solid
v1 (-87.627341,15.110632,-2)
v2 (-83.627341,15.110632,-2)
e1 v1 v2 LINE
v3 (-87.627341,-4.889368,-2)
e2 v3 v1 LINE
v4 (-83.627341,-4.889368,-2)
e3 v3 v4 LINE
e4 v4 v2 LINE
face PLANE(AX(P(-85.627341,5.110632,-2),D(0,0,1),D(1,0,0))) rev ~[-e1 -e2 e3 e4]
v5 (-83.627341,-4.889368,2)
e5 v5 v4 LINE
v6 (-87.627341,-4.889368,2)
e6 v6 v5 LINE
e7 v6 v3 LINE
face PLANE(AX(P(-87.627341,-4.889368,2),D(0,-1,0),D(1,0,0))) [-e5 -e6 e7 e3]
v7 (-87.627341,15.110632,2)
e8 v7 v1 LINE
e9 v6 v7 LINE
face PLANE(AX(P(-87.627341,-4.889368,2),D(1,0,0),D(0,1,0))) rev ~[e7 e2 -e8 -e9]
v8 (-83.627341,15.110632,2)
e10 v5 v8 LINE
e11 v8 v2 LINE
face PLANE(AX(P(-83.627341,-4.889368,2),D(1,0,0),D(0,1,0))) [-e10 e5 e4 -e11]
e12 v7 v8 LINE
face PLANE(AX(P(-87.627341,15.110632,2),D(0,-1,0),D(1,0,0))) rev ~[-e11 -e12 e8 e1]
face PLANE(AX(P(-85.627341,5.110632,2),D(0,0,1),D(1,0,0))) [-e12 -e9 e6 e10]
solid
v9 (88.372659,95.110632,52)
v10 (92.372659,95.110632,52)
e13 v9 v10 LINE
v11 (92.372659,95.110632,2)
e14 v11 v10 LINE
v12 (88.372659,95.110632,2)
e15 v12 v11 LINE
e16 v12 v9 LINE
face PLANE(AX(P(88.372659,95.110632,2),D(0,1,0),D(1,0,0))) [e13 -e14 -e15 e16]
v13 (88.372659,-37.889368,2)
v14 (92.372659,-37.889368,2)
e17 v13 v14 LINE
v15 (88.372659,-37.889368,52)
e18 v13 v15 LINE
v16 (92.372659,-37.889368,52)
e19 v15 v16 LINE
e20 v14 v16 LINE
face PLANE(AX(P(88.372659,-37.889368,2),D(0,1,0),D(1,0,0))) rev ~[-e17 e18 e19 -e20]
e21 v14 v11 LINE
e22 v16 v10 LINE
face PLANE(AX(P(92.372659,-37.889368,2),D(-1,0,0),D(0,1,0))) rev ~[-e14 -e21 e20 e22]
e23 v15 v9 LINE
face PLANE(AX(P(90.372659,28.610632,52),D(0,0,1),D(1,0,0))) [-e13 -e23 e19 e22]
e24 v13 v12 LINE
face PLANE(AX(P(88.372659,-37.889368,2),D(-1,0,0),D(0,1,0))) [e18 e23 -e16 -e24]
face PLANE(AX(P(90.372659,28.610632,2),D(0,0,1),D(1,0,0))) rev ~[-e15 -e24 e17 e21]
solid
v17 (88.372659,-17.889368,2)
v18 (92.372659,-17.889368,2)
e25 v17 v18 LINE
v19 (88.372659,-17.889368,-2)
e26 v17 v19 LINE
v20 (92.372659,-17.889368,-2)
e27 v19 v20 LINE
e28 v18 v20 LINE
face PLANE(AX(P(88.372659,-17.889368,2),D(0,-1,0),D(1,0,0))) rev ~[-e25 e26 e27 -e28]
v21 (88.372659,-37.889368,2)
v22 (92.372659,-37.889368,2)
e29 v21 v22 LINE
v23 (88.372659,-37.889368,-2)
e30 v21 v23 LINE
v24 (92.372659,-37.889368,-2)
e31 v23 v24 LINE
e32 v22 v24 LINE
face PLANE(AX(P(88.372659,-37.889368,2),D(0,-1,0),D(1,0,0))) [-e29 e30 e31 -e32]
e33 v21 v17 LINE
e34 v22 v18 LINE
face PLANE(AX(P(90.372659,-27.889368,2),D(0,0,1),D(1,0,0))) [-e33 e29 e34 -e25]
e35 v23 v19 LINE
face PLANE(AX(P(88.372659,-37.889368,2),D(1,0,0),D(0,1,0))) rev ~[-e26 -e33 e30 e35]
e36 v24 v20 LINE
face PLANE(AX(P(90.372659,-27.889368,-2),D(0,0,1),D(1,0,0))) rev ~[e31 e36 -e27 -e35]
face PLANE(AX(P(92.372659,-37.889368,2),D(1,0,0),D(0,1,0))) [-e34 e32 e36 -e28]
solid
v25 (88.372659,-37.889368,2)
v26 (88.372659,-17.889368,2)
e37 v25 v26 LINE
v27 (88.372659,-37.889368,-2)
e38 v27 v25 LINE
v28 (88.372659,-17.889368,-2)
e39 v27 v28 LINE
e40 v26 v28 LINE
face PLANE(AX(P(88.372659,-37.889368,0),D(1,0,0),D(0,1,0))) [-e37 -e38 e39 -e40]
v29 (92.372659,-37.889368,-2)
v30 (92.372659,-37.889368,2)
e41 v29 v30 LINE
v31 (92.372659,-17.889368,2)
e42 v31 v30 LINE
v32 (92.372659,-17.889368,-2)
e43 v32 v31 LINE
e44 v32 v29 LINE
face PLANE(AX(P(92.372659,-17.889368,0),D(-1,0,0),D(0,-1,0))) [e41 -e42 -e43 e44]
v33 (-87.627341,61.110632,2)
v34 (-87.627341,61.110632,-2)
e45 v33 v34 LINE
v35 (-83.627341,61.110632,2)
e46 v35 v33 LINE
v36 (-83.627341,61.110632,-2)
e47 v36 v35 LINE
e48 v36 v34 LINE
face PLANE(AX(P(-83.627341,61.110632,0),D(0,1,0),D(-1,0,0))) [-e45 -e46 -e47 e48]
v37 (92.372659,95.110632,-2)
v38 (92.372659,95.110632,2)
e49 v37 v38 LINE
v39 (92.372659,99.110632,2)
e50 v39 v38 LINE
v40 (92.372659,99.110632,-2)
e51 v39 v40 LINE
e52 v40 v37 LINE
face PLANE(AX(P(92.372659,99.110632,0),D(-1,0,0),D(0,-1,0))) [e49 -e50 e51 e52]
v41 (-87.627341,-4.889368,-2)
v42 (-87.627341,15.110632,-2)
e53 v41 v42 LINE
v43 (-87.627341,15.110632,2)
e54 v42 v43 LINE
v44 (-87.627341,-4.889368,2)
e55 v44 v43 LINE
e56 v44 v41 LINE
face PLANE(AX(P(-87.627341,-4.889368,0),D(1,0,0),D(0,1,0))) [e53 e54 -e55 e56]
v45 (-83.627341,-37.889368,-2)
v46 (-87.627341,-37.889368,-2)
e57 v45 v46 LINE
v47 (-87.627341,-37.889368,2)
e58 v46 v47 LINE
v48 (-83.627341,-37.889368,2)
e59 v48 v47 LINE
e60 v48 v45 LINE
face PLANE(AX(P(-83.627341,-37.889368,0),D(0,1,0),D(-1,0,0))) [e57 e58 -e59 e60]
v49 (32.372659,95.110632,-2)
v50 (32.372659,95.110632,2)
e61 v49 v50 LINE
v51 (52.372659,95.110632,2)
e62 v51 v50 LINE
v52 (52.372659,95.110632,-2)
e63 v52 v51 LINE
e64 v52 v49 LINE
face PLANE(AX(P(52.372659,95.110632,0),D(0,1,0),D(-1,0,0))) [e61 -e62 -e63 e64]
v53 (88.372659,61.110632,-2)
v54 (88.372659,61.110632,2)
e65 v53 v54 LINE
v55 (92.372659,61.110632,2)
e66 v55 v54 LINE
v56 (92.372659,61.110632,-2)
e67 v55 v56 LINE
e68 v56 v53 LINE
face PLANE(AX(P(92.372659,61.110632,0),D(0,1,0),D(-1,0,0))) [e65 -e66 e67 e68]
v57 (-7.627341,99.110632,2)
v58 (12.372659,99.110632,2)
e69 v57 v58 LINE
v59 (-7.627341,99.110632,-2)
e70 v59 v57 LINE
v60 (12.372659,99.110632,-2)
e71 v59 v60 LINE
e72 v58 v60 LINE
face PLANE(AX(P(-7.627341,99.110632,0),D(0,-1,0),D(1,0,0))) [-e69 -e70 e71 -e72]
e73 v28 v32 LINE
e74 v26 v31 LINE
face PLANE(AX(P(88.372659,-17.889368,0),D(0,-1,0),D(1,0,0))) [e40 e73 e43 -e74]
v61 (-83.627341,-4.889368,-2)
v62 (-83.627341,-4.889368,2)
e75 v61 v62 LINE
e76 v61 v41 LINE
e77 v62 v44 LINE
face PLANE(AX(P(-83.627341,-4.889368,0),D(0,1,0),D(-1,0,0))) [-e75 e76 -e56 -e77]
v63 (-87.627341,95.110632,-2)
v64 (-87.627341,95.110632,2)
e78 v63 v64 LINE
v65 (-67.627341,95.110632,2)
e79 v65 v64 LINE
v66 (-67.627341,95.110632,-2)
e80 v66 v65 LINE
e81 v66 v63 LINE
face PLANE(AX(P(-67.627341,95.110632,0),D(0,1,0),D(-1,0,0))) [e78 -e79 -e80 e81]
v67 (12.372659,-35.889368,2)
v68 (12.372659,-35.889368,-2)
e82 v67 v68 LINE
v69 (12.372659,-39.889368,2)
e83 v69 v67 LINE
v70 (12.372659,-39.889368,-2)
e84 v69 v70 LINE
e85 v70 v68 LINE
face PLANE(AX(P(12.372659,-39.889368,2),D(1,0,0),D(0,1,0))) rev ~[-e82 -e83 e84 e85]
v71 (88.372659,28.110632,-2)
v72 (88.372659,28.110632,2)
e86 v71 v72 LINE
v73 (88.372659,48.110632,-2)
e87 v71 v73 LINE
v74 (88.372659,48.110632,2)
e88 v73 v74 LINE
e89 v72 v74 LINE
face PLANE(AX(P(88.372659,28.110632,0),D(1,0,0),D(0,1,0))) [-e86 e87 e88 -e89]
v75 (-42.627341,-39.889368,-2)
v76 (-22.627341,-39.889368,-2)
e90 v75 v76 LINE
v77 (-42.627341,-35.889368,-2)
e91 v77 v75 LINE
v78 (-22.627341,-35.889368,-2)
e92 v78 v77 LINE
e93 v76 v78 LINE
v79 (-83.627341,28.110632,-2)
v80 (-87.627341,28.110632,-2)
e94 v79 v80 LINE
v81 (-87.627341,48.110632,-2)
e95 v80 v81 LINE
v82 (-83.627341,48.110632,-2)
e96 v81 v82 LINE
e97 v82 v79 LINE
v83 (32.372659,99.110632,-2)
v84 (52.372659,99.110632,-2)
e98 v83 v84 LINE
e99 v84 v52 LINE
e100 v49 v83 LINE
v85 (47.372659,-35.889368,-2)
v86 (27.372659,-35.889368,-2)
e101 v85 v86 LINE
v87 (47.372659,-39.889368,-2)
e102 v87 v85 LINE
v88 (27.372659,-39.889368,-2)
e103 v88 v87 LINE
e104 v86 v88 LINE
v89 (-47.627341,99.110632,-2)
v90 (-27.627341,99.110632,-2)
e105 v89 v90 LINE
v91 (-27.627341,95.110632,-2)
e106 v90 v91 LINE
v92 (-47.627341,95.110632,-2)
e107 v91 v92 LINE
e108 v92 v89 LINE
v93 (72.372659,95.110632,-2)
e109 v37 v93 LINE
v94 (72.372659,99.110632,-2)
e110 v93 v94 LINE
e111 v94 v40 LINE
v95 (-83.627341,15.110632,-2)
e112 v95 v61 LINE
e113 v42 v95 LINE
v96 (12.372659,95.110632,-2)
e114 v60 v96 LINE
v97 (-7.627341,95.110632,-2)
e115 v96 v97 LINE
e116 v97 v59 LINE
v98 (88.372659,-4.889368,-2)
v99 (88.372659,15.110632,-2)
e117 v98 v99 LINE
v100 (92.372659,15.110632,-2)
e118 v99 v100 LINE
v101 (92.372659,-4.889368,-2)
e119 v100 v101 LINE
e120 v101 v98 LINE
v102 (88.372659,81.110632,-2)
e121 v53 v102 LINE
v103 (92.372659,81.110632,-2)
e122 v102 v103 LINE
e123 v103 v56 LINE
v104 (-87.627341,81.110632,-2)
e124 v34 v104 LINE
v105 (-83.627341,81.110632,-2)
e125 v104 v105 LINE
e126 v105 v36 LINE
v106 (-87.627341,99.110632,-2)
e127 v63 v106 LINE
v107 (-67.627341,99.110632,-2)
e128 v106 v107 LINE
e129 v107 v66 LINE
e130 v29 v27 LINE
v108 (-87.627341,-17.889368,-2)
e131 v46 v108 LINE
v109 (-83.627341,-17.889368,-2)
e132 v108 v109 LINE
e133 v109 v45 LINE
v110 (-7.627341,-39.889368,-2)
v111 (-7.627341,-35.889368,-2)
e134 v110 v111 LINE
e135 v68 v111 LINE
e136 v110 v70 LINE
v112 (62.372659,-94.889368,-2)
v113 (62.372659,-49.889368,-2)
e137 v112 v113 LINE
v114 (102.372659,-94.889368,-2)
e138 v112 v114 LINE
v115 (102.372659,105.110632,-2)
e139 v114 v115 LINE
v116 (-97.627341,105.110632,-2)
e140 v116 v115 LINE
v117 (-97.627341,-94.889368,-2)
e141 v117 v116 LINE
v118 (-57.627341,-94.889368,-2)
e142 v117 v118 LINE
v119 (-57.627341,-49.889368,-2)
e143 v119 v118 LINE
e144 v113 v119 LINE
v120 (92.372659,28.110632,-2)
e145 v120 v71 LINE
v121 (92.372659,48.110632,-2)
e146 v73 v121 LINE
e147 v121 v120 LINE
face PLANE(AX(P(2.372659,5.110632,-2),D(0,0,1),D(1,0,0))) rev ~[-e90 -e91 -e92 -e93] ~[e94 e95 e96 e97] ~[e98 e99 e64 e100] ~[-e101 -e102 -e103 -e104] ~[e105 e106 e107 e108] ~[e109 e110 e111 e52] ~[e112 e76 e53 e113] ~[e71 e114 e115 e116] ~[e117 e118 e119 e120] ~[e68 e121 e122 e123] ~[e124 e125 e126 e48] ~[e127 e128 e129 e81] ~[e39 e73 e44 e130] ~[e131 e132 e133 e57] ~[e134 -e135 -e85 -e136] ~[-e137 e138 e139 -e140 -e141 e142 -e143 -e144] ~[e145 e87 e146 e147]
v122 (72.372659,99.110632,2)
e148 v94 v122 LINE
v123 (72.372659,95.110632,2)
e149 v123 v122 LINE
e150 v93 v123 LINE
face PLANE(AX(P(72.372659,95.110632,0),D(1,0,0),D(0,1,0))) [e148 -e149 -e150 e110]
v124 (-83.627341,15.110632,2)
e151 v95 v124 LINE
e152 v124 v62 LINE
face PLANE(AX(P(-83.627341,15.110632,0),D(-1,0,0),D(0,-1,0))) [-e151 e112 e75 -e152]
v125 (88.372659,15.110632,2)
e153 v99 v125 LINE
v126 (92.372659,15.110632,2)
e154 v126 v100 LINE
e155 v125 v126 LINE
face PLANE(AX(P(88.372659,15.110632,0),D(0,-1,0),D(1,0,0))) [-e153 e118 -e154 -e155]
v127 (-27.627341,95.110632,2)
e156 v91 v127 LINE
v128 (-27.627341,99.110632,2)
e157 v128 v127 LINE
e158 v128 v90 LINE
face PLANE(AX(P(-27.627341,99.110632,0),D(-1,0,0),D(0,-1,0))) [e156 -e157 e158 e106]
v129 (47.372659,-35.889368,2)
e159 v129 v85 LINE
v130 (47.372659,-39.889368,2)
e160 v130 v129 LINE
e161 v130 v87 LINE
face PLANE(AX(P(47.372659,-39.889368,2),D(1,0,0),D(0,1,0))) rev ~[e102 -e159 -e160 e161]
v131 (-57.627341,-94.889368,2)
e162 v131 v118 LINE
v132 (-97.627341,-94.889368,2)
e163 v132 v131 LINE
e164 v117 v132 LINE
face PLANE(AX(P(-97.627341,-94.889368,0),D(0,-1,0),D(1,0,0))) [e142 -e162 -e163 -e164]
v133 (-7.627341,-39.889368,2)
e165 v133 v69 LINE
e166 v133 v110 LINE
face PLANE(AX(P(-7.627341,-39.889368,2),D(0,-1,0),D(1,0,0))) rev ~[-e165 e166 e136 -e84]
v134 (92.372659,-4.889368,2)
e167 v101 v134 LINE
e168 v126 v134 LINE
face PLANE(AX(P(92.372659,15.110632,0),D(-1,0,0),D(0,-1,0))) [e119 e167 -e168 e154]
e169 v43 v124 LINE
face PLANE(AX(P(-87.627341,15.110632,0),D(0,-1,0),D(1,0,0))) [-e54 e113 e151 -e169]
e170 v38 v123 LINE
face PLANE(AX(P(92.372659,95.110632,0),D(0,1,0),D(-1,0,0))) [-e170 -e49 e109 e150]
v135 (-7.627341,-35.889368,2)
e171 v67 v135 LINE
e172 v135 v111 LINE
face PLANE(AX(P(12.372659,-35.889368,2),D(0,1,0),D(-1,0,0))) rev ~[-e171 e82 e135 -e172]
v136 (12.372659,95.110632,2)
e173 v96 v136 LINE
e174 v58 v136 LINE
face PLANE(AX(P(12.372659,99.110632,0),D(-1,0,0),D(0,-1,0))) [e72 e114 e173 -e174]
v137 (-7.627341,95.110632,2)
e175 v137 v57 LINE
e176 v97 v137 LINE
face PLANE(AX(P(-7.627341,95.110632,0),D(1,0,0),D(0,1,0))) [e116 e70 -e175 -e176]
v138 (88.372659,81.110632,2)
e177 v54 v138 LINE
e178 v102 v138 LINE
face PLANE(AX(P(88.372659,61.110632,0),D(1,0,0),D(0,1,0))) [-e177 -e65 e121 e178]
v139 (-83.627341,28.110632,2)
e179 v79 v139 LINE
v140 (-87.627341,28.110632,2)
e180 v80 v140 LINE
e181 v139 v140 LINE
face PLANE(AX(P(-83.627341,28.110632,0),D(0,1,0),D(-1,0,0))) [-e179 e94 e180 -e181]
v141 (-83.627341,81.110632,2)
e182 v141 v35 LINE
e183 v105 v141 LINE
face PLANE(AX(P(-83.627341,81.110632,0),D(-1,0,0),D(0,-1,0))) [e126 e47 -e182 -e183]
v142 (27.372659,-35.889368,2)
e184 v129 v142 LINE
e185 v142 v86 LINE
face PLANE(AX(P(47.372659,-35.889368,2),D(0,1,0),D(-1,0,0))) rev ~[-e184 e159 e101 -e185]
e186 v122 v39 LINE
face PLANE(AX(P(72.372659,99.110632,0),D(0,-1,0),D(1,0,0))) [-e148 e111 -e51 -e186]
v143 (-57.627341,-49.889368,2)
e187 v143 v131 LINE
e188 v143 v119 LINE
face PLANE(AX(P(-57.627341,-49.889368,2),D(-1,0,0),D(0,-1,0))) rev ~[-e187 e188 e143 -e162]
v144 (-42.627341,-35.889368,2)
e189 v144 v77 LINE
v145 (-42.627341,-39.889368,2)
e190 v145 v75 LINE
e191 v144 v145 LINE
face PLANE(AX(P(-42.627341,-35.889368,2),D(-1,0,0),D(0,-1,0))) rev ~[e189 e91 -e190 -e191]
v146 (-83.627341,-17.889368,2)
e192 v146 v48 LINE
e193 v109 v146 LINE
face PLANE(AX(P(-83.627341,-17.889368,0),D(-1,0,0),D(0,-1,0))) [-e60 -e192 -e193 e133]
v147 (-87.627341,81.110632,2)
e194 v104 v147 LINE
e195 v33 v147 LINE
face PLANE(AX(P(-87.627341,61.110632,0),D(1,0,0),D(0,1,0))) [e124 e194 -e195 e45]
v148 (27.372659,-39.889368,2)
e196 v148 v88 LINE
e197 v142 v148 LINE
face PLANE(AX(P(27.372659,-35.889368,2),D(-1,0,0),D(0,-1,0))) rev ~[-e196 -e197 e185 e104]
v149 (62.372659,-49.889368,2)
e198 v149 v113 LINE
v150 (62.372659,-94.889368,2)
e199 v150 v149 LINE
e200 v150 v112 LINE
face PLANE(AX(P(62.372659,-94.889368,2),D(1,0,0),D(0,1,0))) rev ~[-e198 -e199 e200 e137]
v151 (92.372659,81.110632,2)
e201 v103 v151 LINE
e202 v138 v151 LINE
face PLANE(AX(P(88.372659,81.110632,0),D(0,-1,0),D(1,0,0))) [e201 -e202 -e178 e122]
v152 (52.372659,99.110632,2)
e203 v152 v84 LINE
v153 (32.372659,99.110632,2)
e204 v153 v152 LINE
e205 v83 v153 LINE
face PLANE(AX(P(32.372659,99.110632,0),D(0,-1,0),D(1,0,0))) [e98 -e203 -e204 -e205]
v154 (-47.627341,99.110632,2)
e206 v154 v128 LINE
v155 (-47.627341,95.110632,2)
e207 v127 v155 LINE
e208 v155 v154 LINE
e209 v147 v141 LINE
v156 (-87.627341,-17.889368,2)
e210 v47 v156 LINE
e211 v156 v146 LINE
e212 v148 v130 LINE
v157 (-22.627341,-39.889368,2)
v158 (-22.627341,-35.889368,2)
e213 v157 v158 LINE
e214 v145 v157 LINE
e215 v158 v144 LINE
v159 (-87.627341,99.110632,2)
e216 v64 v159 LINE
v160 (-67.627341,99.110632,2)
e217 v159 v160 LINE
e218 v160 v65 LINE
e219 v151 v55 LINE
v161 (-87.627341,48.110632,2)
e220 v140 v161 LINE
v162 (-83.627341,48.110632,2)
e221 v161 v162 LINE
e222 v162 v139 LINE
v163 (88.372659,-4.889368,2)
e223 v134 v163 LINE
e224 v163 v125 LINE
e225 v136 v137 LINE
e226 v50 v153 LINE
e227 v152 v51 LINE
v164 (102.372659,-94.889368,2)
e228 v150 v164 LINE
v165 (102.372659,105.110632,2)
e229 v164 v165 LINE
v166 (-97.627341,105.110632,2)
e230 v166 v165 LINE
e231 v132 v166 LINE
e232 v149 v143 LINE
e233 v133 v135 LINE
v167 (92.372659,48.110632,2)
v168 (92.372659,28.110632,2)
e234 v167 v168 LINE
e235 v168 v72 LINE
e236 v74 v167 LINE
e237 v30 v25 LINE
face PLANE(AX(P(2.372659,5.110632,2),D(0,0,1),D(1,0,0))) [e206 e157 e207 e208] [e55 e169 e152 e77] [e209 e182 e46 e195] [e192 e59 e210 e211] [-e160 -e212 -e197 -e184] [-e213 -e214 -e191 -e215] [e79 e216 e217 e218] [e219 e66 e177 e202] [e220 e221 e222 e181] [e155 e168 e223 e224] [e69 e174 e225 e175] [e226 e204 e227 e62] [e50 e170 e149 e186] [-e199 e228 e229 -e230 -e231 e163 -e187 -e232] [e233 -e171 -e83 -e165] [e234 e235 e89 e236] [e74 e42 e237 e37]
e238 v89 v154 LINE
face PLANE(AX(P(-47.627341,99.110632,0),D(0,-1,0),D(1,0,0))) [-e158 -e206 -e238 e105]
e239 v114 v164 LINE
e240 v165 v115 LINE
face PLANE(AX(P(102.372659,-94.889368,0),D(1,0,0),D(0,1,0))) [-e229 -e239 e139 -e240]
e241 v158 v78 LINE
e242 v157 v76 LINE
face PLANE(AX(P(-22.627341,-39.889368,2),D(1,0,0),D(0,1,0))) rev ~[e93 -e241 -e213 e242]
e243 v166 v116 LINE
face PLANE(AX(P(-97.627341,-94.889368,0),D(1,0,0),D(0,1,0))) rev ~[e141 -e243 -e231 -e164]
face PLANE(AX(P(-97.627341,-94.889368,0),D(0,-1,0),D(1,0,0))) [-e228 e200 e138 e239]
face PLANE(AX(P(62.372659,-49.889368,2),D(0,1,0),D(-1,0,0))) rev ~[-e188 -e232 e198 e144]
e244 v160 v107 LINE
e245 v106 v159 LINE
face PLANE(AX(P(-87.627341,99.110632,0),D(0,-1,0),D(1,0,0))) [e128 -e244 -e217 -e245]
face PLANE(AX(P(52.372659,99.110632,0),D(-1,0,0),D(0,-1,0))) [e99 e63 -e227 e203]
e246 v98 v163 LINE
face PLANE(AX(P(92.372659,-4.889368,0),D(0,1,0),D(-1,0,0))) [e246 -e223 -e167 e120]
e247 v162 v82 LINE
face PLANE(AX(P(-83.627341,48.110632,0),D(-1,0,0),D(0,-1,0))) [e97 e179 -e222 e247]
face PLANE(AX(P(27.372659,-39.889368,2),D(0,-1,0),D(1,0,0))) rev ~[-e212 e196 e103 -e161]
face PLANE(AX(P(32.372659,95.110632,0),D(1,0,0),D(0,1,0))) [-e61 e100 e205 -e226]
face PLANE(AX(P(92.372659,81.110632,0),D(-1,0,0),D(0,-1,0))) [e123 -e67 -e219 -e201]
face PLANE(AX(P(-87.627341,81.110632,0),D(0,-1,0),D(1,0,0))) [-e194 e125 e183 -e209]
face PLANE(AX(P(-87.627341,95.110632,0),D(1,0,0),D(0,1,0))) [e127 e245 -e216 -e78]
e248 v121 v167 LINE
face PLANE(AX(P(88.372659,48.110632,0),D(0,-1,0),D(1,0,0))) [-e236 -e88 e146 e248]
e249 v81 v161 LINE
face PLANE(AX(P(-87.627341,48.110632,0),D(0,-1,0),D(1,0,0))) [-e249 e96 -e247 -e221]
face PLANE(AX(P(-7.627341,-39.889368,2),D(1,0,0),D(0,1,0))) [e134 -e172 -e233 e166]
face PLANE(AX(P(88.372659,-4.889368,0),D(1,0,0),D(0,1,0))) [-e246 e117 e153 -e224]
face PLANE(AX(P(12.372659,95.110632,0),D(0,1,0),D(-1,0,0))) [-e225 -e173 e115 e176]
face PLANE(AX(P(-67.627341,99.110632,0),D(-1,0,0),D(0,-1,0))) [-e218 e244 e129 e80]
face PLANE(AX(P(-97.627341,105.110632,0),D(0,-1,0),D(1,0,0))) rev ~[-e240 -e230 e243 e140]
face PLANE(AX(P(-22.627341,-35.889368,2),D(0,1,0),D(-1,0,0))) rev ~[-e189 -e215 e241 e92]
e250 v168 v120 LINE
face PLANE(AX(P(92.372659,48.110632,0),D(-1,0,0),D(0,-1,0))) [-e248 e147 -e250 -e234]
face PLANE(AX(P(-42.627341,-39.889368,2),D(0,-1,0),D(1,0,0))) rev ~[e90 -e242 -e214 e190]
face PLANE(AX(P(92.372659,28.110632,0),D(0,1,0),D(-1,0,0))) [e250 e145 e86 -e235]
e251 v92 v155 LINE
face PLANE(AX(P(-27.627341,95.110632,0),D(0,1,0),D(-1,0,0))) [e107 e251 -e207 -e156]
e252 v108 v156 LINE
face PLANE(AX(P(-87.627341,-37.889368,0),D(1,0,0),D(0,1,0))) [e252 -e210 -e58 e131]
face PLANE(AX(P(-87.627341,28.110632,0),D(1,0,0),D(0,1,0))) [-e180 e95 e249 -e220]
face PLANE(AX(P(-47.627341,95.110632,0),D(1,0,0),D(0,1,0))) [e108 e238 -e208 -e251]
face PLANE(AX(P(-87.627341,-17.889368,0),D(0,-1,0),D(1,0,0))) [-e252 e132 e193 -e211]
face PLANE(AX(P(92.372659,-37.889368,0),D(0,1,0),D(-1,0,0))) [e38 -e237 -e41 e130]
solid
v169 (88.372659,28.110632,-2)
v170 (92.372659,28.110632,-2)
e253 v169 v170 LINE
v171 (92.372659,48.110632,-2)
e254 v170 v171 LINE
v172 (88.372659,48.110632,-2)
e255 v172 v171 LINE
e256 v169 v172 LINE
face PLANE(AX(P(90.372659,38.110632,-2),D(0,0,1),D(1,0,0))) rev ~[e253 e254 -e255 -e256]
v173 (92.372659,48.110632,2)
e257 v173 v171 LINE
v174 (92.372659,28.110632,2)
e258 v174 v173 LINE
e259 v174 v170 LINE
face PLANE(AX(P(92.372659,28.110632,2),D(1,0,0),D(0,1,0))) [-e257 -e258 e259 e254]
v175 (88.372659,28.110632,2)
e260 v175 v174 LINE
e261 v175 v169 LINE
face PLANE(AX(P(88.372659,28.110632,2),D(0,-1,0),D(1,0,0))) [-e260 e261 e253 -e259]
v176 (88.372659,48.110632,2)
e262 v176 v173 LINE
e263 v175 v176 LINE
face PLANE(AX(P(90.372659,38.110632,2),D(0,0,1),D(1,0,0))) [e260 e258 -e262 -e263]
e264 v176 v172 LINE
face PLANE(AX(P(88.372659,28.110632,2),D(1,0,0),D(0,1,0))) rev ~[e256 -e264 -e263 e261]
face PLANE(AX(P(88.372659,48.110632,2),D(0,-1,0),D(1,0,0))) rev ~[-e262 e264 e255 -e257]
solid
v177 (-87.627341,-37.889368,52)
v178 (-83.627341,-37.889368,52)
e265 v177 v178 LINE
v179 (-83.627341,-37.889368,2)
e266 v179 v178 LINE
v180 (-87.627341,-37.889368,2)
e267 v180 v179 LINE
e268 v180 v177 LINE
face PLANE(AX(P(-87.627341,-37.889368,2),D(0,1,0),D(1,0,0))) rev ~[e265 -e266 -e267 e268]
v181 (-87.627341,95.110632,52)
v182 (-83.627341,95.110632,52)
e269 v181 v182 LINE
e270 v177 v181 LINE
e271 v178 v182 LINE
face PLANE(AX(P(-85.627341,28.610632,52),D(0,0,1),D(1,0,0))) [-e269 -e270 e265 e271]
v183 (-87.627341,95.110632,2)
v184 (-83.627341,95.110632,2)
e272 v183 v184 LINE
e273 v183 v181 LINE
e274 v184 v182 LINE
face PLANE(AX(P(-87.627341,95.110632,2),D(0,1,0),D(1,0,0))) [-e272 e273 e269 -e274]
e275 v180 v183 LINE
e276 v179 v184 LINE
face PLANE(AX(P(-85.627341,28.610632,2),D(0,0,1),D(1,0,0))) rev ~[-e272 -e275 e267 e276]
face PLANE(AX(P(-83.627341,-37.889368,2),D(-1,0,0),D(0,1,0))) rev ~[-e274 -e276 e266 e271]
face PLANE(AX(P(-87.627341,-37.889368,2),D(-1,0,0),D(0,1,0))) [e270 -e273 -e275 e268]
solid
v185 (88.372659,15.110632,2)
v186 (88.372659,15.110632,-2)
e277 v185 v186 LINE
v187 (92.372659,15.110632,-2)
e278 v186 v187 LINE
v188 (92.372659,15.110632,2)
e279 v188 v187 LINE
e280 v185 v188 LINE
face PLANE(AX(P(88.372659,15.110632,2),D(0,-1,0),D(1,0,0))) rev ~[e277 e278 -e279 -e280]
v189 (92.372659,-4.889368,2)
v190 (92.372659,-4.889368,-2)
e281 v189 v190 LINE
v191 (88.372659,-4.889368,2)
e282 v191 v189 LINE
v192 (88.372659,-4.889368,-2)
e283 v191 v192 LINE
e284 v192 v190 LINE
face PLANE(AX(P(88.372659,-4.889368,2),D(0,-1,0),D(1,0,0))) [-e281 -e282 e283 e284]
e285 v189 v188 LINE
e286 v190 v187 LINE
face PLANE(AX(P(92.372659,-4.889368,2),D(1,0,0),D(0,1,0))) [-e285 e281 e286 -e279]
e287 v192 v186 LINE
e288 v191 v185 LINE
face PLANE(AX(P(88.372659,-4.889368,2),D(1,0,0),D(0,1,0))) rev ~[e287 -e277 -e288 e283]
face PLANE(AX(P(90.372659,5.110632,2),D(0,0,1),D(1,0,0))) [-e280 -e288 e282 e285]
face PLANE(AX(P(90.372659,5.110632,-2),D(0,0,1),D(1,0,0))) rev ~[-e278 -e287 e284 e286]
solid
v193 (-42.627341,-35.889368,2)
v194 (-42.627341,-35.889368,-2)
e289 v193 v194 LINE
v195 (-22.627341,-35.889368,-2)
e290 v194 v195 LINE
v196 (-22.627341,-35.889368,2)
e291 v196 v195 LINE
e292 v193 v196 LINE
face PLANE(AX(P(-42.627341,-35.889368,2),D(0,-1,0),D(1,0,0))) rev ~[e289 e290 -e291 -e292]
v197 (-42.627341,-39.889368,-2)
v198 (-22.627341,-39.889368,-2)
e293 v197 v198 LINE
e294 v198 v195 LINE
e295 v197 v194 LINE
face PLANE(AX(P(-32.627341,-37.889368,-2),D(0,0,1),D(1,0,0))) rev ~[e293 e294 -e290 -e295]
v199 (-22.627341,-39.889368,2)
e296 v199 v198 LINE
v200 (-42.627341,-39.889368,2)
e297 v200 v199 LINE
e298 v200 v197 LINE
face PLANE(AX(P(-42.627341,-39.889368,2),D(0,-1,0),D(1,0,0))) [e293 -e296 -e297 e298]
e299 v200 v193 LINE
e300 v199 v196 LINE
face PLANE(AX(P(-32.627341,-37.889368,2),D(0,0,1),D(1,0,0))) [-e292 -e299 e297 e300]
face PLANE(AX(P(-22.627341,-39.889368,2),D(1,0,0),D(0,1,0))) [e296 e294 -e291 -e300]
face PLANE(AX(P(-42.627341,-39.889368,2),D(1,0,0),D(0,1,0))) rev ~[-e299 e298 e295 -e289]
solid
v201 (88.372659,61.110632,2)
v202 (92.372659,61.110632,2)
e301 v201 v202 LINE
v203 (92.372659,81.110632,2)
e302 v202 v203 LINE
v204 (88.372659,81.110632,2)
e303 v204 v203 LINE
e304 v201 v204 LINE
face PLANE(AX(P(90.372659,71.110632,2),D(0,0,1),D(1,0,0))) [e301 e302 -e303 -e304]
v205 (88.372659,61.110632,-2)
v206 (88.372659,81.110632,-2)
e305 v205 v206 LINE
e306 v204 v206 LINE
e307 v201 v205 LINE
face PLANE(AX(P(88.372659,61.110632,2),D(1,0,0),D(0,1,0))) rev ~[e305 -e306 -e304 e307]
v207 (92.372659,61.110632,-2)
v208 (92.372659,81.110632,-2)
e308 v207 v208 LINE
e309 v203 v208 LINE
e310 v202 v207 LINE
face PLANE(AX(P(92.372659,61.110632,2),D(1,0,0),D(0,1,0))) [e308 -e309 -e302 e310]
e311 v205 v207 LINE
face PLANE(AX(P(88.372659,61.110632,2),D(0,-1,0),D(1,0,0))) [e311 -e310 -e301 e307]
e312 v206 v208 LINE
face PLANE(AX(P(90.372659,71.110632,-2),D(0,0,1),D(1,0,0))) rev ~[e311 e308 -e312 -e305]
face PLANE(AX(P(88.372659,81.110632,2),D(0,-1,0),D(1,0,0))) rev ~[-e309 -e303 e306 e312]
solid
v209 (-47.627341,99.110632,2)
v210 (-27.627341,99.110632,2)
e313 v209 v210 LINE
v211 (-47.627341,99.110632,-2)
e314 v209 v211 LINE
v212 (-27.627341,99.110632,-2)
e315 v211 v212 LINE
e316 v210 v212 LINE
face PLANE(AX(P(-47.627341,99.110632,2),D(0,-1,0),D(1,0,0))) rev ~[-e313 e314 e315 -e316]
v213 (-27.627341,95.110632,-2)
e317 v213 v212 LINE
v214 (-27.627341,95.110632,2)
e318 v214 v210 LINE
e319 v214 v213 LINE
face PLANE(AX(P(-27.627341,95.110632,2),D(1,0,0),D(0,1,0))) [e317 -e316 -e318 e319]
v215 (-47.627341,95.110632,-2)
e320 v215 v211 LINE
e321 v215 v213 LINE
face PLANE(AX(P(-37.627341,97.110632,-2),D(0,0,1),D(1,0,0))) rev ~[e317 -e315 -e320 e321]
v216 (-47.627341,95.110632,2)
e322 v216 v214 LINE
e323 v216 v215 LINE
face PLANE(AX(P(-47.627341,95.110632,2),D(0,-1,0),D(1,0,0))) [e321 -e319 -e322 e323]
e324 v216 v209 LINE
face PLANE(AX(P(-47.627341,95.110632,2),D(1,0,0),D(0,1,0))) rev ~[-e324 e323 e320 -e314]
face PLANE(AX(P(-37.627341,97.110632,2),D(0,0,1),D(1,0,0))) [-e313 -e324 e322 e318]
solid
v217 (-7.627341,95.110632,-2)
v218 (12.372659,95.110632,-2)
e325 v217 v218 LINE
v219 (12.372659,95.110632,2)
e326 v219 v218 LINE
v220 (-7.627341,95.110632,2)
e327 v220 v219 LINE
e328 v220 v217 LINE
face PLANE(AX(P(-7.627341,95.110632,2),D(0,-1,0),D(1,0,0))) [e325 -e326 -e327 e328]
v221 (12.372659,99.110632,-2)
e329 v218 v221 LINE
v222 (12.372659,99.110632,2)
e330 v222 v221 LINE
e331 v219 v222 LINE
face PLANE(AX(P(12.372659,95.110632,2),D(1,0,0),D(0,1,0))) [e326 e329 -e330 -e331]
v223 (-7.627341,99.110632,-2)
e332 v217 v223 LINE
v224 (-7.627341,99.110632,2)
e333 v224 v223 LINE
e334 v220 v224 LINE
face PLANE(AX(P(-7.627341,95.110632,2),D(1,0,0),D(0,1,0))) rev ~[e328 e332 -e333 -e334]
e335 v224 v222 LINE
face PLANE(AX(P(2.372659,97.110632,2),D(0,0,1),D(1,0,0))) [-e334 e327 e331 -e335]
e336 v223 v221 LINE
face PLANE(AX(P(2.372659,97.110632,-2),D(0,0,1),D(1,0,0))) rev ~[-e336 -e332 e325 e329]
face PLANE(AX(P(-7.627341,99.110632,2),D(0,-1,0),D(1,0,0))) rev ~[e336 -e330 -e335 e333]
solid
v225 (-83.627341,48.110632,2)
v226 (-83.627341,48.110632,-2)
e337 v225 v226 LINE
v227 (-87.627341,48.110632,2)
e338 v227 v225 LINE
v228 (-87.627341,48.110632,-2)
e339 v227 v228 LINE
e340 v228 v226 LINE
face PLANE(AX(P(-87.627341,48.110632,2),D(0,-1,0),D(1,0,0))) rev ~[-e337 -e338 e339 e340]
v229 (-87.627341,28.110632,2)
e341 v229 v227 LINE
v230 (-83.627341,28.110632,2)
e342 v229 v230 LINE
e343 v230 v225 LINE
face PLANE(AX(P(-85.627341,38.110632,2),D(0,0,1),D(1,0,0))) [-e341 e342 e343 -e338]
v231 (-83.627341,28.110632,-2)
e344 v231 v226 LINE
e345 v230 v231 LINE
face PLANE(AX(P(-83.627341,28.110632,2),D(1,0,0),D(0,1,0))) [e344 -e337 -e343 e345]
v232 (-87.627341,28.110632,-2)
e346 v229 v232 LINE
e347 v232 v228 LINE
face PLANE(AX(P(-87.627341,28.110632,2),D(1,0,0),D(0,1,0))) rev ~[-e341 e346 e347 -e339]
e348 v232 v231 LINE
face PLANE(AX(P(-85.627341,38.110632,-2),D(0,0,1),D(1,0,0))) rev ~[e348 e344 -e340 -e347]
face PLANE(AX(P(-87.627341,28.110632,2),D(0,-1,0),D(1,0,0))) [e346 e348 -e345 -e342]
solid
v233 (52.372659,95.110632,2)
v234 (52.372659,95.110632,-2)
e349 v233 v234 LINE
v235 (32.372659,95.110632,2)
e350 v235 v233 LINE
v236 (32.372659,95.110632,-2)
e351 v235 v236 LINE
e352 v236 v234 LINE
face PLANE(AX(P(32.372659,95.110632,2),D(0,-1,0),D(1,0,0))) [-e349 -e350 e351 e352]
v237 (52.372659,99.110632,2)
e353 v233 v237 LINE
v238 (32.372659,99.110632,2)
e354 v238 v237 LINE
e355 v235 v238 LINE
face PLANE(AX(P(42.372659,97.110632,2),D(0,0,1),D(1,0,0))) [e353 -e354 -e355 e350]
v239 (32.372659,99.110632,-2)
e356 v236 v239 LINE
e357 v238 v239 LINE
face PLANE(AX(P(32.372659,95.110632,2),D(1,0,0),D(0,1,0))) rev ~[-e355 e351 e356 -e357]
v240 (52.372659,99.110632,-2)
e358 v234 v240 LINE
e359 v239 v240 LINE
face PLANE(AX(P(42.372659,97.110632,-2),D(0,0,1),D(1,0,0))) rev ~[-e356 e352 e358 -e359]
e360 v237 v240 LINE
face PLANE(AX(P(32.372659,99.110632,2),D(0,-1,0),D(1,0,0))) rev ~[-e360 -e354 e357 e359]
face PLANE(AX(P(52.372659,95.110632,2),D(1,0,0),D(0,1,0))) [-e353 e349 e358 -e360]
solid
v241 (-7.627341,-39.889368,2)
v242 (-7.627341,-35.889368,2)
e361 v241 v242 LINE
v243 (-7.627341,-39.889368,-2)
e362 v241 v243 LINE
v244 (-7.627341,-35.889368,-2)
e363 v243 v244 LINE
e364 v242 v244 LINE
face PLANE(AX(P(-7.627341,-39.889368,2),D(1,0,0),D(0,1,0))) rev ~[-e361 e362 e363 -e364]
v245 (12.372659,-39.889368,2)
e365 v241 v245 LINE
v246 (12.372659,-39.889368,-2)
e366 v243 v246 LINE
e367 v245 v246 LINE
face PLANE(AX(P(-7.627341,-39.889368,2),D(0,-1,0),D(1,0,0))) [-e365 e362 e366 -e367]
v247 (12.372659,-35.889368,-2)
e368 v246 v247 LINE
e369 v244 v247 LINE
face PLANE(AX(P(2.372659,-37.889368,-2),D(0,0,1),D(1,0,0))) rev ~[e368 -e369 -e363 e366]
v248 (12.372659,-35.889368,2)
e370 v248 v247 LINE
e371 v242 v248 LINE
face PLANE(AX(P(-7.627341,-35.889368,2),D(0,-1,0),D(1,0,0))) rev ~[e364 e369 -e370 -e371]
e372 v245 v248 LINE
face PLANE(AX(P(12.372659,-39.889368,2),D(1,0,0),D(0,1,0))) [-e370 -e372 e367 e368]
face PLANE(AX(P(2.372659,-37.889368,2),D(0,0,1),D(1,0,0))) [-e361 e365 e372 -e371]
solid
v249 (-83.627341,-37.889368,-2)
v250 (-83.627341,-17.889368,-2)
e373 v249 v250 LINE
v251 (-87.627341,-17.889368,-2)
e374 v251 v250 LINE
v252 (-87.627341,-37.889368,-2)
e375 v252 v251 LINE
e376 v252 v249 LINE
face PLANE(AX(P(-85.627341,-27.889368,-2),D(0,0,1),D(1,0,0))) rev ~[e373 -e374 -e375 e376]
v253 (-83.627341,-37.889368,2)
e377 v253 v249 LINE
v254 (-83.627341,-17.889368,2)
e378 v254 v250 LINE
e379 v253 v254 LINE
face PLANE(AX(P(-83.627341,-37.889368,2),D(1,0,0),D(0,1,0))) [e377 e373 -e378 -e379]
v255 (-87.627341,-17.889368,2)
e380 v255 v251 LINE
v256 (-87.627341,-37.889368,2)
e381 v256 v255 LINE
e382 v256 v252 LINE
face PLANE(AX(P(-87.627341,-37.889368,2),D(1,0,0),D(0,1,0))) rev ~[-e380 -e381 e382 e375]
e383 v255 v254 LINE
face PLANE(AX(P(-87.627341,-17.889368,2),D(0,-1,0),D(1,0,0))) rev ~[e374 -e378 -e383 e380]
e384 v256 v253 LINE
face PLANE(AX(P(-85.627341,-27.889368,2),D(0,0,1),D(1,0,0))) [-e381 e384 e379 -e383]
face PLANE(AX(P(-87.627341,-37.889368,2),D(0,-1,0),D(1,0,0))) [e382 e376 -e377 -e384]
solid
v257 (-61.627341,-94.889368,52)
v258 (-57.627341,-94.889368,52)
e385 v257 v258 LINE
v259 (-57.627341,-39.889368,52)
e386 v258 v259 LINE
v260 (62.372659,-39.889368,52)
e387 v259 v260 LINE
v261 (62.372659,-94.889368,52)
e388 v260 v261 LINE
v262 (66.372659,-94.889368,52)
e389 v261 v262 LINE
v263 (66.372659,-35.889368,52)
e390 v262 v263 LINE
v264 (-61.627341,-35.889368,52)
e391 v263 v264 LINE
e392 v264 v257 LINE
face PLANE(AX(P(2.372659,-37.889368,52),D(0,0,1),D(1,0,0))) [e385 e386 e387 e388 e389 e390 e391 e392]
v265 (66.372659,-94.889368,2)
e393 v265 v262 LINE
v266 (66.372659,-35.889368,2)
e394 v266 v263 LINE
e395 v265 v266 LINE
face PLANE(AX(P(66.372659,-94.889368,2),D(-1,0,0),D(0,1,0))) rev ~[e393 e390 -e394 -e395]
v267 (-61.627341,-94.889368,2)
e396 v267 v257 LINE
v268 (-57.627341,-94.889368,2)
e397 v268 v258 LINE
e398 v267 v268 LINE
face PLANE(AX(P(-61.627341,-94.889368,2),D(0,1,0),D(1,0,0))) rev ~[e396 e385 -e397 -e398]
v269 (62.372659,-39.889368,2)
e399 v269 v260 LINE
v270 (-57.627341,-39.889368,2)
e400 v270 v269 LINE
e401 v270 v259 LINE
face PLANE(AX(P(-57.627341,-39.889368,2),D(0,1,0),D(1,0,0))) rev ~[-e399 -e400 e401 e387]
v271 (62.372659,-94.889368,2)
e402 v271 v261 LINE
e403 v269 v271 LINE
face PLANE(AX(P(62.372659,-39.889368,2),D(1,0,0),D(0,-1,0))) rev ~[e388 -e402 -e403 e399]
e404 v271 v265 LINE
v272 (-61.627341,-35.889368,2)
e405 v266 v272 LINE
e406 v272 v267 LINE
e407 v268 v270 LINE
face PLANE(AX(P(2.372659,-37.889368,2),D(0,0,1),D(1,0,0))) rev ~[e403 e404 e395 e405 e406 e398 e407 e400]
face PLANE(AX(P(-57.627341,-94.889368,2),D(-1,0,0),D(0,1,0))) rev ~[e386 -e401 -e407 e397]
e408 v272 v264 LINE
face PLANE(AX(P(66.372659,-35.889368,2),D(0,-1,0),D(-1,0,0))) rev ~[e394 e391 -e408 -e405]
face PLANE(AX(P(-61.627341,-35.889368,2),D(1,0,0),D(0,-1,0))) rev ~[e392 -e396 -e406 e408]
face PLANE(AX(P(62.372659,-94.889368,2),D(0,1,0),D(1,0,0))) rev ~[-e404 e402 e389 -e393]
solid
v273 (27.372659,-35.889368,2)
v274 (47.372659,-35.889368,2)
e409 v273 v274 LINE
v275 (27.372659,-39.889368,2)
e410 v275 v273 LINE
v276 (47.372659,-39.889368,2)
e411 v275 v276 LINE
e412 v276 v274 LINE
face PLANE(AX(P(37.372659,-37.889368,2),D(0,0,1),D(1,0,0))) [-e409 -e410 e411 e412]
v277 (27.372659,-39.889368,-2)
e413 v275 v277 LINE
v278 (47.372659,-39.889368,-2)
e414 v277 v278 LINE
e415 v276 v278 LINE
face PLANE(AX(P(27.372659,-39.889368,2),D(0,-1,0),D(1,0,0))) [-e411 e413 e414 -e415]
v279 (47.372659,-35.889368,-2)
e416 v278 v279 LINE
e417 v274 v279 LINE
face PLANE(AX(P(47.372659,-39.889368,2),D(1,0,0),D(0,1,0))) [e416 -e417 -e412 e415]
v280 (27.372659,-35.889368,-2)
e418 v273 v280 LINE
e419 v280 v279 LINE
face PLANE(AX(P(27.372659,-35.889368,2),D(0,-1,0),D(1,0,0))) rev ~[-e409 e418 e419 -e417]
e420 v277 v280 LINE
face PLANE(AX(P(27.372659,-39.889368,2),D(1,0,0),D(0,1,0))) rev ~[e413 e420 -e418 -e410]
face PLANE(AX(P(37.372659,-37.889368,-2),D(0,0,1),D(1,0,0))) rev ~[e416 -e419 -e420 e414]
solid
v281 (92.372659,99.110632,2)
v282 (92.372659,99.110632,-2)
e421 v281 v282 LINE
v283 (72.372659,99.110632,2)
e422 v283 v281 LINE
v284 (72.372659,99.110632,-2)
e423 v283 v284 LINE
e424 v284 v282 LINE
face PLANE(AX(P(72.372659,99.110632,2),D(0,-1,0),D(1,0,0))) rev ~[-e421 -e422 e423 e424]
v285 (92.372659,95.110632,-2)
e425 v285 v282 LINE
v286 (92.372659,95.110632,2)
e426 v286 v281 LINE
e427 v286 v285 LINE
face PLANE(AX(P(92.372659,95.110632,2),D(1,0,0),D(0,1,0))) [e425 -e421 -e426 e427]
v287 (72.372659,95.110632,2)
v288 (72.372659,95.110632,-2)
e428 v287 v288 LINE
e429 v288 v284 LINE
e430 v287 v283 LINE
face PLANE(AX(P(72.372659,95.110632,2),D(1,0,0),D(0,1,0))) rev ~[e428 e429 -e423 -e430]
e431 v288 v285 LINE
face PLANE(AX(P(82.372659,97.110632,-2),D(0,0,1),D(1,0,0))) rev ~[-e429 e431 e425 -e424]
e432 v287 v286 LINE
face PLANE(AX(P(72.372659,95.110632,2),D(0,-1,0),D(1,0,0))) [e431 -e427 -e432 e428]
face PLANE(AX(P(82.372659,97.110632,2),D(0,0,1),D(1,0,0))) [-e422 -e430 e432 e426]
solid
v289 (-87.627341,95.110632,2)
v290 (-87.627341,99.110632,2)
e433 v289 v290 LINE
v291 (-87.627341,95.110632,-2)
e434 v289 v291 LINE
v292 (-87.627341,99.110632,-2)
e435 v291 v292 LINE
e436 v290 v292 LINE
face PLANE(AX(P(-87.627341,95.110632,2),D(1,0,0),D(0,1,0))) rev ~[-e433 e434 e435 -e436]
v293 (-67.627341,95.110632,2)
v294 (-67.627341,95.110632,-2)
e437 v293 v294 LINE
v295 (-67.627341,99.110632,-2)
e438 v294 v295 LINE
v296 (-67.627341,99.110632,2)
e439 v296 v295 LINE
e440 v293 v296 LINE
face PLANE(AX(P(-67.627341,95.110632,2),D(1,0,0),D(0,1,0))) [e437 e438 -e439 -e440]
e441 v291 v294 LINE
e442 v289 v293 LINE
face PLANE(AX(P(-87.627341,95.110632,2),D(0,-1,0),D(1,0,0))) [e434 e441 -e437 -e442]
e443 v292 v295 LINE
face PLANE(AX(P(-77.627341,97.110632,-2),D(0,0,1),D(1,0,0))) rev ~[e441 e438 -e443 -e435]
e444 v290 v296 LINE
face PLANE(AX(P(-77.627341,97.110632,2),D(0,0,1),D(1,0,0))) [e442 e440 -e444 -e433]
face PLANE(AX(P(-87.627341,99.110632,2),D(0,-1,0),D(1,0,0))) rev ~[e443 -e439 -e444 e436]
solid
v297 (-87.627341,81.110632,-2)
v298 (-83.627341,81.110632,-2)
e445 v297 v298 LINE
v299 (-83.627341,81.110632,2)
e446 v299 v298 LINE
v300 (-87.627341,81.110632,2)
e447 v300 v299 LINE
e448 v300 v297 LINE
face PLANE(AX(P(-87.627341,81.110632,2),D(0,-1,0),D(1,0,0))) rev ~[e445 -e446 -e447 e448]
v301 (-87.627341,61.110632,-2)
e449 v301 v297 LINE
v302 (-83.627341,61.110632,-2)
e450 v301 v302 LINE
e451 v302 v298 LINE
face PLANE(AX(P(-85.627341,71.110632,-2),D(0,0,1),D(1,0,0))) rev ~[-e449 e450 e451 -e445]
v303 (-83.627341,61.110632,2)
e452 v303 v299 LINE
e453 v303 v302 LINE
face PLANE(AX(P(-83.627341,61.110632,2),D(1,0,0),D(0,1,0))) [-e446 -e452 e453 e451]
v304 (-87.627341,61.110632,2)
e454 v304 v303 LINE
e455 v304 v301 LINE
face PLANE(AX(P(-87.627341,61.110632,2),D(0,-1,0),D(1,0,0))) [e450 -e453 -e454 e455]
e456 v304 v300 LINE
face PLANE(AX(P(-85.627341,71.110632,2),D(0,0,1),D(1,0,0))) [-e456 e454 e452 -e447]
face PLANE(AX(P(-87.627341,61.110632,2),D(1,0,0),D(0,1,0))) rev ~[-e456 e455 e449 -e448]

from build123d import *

# Parameters (mm, degrees)
F0_W     = 200
F0_H     = 200
F1_DEPTH = 2
F3_DEPTH = 4
F4_W     = 10
F4_H     = 4
F5_DEPTH = 25
F6_W     = 4
F6_H     = 20
F7_DEPTH = 4
F6_W_2   = 20
F6_H_2   = 4
F8_W     = 4
F8_H     = 133
F9_DEPTH = 50
F8_W_2   = 120
F8_H_2   = 4


with BuildPart() as f1:
    # F0 (on Top) → F1 (new body, symmetric)
    with BuildSketch(Plane.XY):
        with Locations((2.3726588649, 5.1106324806)):
            Rectangle(F0_W, F0_H)
        Polygon((-87.6273411351, -37.8893675194), (-87.6273411351, -27.8893675194), (-87.6273411351, -17.8893675194), (-83.6273411351, -17.8893675194), (-83.6273411351, -27.8893675194), (-83.6273411351, -37.8893675194), align=None, mode=Mode.SUBTRACT)
        Polygon((92.3726588649, -17.8893675194), (92.3726588649, -27.8893675194), (92.3726588649, -37.8893675194), (88.3726588649, -37.8893675194), (88.3726588649, -27.8893675194), (88.3726588649, -17.8893675194), align=None, mode=Mode.SUBTRACT)
        Polygon((-87.6273411351, 5.1106324806), (-87.6273411351, 15.1106324806), (-83.6273411351, 15.1106324806), (-83.6273411351, 5.1106324806), (-83.6273411351, -4.8893675194), (-87.6273411351, -4.8893675194), align=None, mode=Mode.SUBTRACT)
        Polygon((-83.6273411351, 28.1106324806), (-87.6273411351, 28.1106324806), (-87.6273411351, 38.1106324806), (-87.6273411351, 48.1106324806), (-83.6273411351, 48.1106324806), (-83.6273411351, 38.1106324806), align=None, mode=Mode.SUBTRACT)
        Polygon((-87.6273411351, 71.1106324806), (-87.6273411351, 81.1106324806), (-83.6273411351, 81.1106324806), (-83.6273411351, 71.1106324806), (-83.6273411351, 61.1106324806), (-87.6273411351, 61.1106324806), align=None, mode=Mode.SUBTRACT)
        Polygon((-67.6273411351, 95.1106324806), (-77.6273411351, 95.1106324806), (-87.6273411351, 95.1106324806), (-87.6273411351, 99.1106324806), (-77.6273411351, 99.1106324806), (-67.6273411351, 99.1106324806), align=None, mode=Mode.SUBTRACT)
        Polygon((-27.6273411351, 95.1106324806), (-37.6273411351, 95.1106324806), (-47.6273411351, 95.1106324806), (-47.6273411351, 99.1106324806), (-37.6273411351, 99.1106324806), (-27.6273411351, 99.1106324806), align=None, mode=Mode.SUBTRACT)
        Polygon((92.3726588649, 5.1106324806), (92.3726588649, -4.8893675194), (88.3726588649, -4.8893675194), (88.3726588649, 5.1106324806), (88.3726588649, 15.1106324806), (92.3726588649, 15.1106324806), align=None, mode=Mode.SUBTRACT)
        Polygon((88.3726588649, 28.1106324806), (88.3726588649, 38.1106324806), (88.3726588649, 48.1106324806), (92.3726588649, 48.1106324806), (92.3726588649, 38.1106324806), (92.3726588649, 28.1106324806), align=None, mode=Mode.SUBTRACT)
        Polygon((12.3726588649, 95.1106324806), (2.3726588649, 95.1106324806), (-7.6273411351, 95.1106324806), (-7.6273411351, 99.1106324806), (2.3726588649, 99.1106324806), (12.3726588649, 99.1106324806), align=None, mode=Mode.SUBTRACT)
        Polygon((52.3726588649, 95.1106324806), (42.3726588649, 95.1106324806), (32.3726588649, 95.1106324806), (32.3726588649, 99.1106324806), (42.3726588649, 99.1106324806), (52.3726588649, 99.1106324806), align=None, mode=Mode.SUBTRACT)
        Polygon((88.3726588649, 61.1106324806), (88.3726588649, 71.1106324806), (88.3726588649, 81.1106324806), (92.3726588649, 81.1106324806), (92.3726588649, 71.1106324806), (92.3726588649, 61.1106324806), align=None, mode=Mode.SUBTRACT)
        Polygon((92.3726588649, 95.1106324806), (82.3726588649, 95.1106324806), (72.3726588649, 95.1106324806), (72.3726588649, 99.1106324806), (82.3726588649, 99.1106324806), (92.3726588649, 99.1106324806), align=None, mode=Mode.SUBTRACT)
    extrude(amount=F1_DEPTH, both=True)

    # F2 (on face) → F3 (cut, through all)
    with BuildSketch(Plane.XY.offset(2)):
        Polygon((62.3726588649, -49.8893675194), (2.3726588649, -49.8893675194), (-57.6273411351, -49.8893675194), (-57.6273411351, -94.8893675194), (2.3726588649, -94.8893675194), (62.3726588649, -94.8893675194), align=None)
    extrude(amount=-F3_DEPTH, mode=Mode.SUBTRACT)

    # F4 (on face) → F5 (cut)
    with BuildSketch(Plane.XY.offset(2)):
        with Locations((-2.6273411351, -37.8893675194)):
            Rectangle(F4_W, F4_H)
        with Locations((7.3726588649, -37.8893675194)):
            Rectangle(F4_W, F4_H)
        Polygon((47.3726588649, -35.8893675194), (37.3726588649, -35.8893675194), (27.3726588649, -35.8893675194), (27.3726588649, -39.8893675194), (37.3726588649, -39.8893675194), (47.3726588649, -39.8893675194), align=None)
        Polygon((-42.6273411351, -39.8893675194), (-32.6273411351, -39.8893675194), (-22.6273411351, -39.8893675194), (-22.6273411351, -35.8893675194), (-32.6273411351, -35.8893675194), (-42.6273411351, -35.8893675194), align=None)
    extrude(amount=-F5_DEPTH, mode=Mode.SUBTRACT)


with BuildPart() as f7:
    # F6 (on face) → F7 (new body)
    with BuildSketch(Plane.XY.offset(2)):
        with Locations((-85.6273411351, 71.1106324806)):
            Rectangle(F6_W, F6_H)
    extrude(amount=-F7_DEPTH)


with BuildPart() as f7b:
    # F6 (on face) → F7, piece 2 (new body)
    with BuildSketch(Plane.XY.offset(2)):
        with Locations((-85.6273411351, 38.1106324806)):
            Rectangle(F6_W, F6_H)
    extrude(amount=-F7_DEPTH)


with BuildPart() as f7c:
    # F6 (on face) → F7, piece 3 (new body)
    with BuildSketch(Plane.XY.offset(2)):
        with Locations((-85.6273411351, 5.1106324806)):
            Rectangle(F6_W, F6_H)
    extrude(amount=-F7_DEPTH)


with BuildPart() as f7d:
    # F6 (on face) → F7, piece 4 (new body)
    with BuildSketch(Plane.XY.offset(2)):
        with Locations((-85.6273411351, -27.8893675194)):
            Rectangle(F6_W, F6_H)
    extrude(amount=-F7_DEPTH)


with BuildPart() as f7e:
    # F6 (on face) → F7, piece 5 (new body)
    with BuildSketch(Plane.XY.offset(2)):
        with Locations((-32.6273411351, -37.8893675194)):
            Rectangle(F6_W_2, F6_H_2)
    extrude(amount=-F7_DEPTH)


with BuildPart() as f7f:
    # F6 (on face) → F7, piece 6 (new body)
    with BuildSketch(Plane.XY.offset(2)):
        with Locations((2.3726588649, -37.8893675194)):
            Rectangle(F6_W_2, F6_H_2)
    extrude(amount=-F7_DEPTH)


with BuildPart() as f7g:
    # F6 (on face) → F7, piece 7 (new body)
    with BuildSketch(Plane.XY.offset(2)):
        with Locations((37.3726588649, -37.8893675194)):
            Rectangle(F6_W_2, F6_H_2)
    extrude(amount=-F7_DEPTH)


with BuildPart() as f7h:
    # F6 (on face) → F7, piece 8 (new body)
    with BuildSketch(Plane.XY.offset(2)):
        with Locations((90.3726588649, -27.8893675194)):
            Rectangle(F6_W, F6_H)
    extrude(amount=-F7_DEPTH)


with BuildPart() as f7i:
    # F6 (on face) → F7, piece 9 (new body)
    with BuildSketch(Plane.XY.offset(2)):
        with Locations((90.3726588649, 5.1106324806)):
            Rectangle(F6_W, F6_H)
    extrude(amount=-F7_DEPTH)


with BuildPart() as f7j:
    # F6 (on face) → F7, piece 10 (new body)
    with BuildSketch(Plane.XY.offset(2)):
        with Locations((90.3726588649, 38.1106324806)):
            Rectangle(F6_W, F6_H)
    extrude(amount=-F7_DEPTH)


with BuildPart() as f7k:
    # F6 (on face) → F7, piece 11 (new body)
    with BuildSketch(Plane.XY.offset(2)):
        with Locations((90.3726588649, 71.1106324806)):
            Rectangle(F6_W, F6_H)
    extrude(amount=-F7_DEPTH)


with BuildPart() as f7l:
    # F6 (on face) → F7, piece 12 (new body)
    with BuildSketch(Plane.XY.offset(2)):
        with Locations((82.3726588649, 97.1106324806)):
            Rectangle(F6_W_2, F6_H_2)
    extrude(amount=-F7_DEPTH)


with BuildPart() as f7m:
    # F6 (on face) → F7, piece 13 (new body)
    with BuildSketch(Plane.XY.offset(2)):
        with Locations((42.3726588649, 97.1106324806)):
            Rectangle(F6_W_2, F6_H_2)
    extrude(amount=-F7_DEPTH)


with BuildPart() as f7n:
    # F6 (on face) → F7, piece 14 (new body)
    with BuildSketch(Plane.XY.offset(2)):
        with Locations((2.3726588649, 97.1106324806)):
            Rectangle(F6_W_2, F6_H_2)
    extrude(amount=-F7_DEPTH)


with BuildPart() as f7o:
    # F6 (on face) → F7, piece 15 (new body)
    with BuildSketch(Plane.XY.offset(2)):
        with Locations((-37.6273411351, 97.1106324806)):
            Rectangle(F6_W_2, F6_H_2)
    extrude(amount=-F7_DEPTH)


with BuildPart() as f7p:
    # F6 (on face) → F7, piece 16 (new body)
    with BuildSketch(Plane.XY.offset(2)):
        with Locations((-77.6273411351, 97.1106324806)):
            Rectangle(F6_W_2, F6_H_2)
    extrude(amount=-F7_DEPTH)


with BuildPart() as f9:
    # F8 (on face) → F9 (new body)
    with BuildSketch(Plane.XY.offset(2)):
        with Locations((-85.6273411351, 28.6106324806)):
            Rectangle(F8_W, F8_H)
    extrude(amount=F9_DEPTH)


with BuildPart() as f9b:
    # F8 (on face) → F9, piece 2 (new body)
    with BuildSketch(Plane.XY.offset(2)):
        with Locations((90.3726588649, 28.6106324806)):
            Rectangle(F8_W, F8_H)
    extrude(amount=F9_DEPTH)


with BuildPart() as f9c:
    # F8 (on face) → F9, piece 3 (new body)
    with BuildSketch(Plane.XY.offset(2)):
        with Locations((2.3726588649, -37.8893675194)):
            Rectangle(F8_W_2, F8_H_2)
        Polygon((-57.6273411351, -94.8893675194), (-57.6273411351, -39.8893675194), (-57.6273411351, -35.8893675194), (-61.6273411351, -35.8893675194), (-61.6273411351, -94.8893675194), align=None)
        Polygon((62.3726588649, -35.8893675194), (62.3726588649, -39.8893675194), (62.3726588649, -94.8893675194), (66.3726588649, -94.8893675194), (66.3726588649, -35.8893675194), align=None)
    extrude(amount=F9_DEPTH)


solid = Compound([f1.part, f7.part, f7b.part, f7c.part, f7d.part, f7e.part, f7f.part, f7g.part, f7h.part, f7i.part, f7j.part, f7k.part, f7l.part, f7m.part, f7n.part, f7o.part, f7p.part, f9.part, f9b.part, f9c.part])
